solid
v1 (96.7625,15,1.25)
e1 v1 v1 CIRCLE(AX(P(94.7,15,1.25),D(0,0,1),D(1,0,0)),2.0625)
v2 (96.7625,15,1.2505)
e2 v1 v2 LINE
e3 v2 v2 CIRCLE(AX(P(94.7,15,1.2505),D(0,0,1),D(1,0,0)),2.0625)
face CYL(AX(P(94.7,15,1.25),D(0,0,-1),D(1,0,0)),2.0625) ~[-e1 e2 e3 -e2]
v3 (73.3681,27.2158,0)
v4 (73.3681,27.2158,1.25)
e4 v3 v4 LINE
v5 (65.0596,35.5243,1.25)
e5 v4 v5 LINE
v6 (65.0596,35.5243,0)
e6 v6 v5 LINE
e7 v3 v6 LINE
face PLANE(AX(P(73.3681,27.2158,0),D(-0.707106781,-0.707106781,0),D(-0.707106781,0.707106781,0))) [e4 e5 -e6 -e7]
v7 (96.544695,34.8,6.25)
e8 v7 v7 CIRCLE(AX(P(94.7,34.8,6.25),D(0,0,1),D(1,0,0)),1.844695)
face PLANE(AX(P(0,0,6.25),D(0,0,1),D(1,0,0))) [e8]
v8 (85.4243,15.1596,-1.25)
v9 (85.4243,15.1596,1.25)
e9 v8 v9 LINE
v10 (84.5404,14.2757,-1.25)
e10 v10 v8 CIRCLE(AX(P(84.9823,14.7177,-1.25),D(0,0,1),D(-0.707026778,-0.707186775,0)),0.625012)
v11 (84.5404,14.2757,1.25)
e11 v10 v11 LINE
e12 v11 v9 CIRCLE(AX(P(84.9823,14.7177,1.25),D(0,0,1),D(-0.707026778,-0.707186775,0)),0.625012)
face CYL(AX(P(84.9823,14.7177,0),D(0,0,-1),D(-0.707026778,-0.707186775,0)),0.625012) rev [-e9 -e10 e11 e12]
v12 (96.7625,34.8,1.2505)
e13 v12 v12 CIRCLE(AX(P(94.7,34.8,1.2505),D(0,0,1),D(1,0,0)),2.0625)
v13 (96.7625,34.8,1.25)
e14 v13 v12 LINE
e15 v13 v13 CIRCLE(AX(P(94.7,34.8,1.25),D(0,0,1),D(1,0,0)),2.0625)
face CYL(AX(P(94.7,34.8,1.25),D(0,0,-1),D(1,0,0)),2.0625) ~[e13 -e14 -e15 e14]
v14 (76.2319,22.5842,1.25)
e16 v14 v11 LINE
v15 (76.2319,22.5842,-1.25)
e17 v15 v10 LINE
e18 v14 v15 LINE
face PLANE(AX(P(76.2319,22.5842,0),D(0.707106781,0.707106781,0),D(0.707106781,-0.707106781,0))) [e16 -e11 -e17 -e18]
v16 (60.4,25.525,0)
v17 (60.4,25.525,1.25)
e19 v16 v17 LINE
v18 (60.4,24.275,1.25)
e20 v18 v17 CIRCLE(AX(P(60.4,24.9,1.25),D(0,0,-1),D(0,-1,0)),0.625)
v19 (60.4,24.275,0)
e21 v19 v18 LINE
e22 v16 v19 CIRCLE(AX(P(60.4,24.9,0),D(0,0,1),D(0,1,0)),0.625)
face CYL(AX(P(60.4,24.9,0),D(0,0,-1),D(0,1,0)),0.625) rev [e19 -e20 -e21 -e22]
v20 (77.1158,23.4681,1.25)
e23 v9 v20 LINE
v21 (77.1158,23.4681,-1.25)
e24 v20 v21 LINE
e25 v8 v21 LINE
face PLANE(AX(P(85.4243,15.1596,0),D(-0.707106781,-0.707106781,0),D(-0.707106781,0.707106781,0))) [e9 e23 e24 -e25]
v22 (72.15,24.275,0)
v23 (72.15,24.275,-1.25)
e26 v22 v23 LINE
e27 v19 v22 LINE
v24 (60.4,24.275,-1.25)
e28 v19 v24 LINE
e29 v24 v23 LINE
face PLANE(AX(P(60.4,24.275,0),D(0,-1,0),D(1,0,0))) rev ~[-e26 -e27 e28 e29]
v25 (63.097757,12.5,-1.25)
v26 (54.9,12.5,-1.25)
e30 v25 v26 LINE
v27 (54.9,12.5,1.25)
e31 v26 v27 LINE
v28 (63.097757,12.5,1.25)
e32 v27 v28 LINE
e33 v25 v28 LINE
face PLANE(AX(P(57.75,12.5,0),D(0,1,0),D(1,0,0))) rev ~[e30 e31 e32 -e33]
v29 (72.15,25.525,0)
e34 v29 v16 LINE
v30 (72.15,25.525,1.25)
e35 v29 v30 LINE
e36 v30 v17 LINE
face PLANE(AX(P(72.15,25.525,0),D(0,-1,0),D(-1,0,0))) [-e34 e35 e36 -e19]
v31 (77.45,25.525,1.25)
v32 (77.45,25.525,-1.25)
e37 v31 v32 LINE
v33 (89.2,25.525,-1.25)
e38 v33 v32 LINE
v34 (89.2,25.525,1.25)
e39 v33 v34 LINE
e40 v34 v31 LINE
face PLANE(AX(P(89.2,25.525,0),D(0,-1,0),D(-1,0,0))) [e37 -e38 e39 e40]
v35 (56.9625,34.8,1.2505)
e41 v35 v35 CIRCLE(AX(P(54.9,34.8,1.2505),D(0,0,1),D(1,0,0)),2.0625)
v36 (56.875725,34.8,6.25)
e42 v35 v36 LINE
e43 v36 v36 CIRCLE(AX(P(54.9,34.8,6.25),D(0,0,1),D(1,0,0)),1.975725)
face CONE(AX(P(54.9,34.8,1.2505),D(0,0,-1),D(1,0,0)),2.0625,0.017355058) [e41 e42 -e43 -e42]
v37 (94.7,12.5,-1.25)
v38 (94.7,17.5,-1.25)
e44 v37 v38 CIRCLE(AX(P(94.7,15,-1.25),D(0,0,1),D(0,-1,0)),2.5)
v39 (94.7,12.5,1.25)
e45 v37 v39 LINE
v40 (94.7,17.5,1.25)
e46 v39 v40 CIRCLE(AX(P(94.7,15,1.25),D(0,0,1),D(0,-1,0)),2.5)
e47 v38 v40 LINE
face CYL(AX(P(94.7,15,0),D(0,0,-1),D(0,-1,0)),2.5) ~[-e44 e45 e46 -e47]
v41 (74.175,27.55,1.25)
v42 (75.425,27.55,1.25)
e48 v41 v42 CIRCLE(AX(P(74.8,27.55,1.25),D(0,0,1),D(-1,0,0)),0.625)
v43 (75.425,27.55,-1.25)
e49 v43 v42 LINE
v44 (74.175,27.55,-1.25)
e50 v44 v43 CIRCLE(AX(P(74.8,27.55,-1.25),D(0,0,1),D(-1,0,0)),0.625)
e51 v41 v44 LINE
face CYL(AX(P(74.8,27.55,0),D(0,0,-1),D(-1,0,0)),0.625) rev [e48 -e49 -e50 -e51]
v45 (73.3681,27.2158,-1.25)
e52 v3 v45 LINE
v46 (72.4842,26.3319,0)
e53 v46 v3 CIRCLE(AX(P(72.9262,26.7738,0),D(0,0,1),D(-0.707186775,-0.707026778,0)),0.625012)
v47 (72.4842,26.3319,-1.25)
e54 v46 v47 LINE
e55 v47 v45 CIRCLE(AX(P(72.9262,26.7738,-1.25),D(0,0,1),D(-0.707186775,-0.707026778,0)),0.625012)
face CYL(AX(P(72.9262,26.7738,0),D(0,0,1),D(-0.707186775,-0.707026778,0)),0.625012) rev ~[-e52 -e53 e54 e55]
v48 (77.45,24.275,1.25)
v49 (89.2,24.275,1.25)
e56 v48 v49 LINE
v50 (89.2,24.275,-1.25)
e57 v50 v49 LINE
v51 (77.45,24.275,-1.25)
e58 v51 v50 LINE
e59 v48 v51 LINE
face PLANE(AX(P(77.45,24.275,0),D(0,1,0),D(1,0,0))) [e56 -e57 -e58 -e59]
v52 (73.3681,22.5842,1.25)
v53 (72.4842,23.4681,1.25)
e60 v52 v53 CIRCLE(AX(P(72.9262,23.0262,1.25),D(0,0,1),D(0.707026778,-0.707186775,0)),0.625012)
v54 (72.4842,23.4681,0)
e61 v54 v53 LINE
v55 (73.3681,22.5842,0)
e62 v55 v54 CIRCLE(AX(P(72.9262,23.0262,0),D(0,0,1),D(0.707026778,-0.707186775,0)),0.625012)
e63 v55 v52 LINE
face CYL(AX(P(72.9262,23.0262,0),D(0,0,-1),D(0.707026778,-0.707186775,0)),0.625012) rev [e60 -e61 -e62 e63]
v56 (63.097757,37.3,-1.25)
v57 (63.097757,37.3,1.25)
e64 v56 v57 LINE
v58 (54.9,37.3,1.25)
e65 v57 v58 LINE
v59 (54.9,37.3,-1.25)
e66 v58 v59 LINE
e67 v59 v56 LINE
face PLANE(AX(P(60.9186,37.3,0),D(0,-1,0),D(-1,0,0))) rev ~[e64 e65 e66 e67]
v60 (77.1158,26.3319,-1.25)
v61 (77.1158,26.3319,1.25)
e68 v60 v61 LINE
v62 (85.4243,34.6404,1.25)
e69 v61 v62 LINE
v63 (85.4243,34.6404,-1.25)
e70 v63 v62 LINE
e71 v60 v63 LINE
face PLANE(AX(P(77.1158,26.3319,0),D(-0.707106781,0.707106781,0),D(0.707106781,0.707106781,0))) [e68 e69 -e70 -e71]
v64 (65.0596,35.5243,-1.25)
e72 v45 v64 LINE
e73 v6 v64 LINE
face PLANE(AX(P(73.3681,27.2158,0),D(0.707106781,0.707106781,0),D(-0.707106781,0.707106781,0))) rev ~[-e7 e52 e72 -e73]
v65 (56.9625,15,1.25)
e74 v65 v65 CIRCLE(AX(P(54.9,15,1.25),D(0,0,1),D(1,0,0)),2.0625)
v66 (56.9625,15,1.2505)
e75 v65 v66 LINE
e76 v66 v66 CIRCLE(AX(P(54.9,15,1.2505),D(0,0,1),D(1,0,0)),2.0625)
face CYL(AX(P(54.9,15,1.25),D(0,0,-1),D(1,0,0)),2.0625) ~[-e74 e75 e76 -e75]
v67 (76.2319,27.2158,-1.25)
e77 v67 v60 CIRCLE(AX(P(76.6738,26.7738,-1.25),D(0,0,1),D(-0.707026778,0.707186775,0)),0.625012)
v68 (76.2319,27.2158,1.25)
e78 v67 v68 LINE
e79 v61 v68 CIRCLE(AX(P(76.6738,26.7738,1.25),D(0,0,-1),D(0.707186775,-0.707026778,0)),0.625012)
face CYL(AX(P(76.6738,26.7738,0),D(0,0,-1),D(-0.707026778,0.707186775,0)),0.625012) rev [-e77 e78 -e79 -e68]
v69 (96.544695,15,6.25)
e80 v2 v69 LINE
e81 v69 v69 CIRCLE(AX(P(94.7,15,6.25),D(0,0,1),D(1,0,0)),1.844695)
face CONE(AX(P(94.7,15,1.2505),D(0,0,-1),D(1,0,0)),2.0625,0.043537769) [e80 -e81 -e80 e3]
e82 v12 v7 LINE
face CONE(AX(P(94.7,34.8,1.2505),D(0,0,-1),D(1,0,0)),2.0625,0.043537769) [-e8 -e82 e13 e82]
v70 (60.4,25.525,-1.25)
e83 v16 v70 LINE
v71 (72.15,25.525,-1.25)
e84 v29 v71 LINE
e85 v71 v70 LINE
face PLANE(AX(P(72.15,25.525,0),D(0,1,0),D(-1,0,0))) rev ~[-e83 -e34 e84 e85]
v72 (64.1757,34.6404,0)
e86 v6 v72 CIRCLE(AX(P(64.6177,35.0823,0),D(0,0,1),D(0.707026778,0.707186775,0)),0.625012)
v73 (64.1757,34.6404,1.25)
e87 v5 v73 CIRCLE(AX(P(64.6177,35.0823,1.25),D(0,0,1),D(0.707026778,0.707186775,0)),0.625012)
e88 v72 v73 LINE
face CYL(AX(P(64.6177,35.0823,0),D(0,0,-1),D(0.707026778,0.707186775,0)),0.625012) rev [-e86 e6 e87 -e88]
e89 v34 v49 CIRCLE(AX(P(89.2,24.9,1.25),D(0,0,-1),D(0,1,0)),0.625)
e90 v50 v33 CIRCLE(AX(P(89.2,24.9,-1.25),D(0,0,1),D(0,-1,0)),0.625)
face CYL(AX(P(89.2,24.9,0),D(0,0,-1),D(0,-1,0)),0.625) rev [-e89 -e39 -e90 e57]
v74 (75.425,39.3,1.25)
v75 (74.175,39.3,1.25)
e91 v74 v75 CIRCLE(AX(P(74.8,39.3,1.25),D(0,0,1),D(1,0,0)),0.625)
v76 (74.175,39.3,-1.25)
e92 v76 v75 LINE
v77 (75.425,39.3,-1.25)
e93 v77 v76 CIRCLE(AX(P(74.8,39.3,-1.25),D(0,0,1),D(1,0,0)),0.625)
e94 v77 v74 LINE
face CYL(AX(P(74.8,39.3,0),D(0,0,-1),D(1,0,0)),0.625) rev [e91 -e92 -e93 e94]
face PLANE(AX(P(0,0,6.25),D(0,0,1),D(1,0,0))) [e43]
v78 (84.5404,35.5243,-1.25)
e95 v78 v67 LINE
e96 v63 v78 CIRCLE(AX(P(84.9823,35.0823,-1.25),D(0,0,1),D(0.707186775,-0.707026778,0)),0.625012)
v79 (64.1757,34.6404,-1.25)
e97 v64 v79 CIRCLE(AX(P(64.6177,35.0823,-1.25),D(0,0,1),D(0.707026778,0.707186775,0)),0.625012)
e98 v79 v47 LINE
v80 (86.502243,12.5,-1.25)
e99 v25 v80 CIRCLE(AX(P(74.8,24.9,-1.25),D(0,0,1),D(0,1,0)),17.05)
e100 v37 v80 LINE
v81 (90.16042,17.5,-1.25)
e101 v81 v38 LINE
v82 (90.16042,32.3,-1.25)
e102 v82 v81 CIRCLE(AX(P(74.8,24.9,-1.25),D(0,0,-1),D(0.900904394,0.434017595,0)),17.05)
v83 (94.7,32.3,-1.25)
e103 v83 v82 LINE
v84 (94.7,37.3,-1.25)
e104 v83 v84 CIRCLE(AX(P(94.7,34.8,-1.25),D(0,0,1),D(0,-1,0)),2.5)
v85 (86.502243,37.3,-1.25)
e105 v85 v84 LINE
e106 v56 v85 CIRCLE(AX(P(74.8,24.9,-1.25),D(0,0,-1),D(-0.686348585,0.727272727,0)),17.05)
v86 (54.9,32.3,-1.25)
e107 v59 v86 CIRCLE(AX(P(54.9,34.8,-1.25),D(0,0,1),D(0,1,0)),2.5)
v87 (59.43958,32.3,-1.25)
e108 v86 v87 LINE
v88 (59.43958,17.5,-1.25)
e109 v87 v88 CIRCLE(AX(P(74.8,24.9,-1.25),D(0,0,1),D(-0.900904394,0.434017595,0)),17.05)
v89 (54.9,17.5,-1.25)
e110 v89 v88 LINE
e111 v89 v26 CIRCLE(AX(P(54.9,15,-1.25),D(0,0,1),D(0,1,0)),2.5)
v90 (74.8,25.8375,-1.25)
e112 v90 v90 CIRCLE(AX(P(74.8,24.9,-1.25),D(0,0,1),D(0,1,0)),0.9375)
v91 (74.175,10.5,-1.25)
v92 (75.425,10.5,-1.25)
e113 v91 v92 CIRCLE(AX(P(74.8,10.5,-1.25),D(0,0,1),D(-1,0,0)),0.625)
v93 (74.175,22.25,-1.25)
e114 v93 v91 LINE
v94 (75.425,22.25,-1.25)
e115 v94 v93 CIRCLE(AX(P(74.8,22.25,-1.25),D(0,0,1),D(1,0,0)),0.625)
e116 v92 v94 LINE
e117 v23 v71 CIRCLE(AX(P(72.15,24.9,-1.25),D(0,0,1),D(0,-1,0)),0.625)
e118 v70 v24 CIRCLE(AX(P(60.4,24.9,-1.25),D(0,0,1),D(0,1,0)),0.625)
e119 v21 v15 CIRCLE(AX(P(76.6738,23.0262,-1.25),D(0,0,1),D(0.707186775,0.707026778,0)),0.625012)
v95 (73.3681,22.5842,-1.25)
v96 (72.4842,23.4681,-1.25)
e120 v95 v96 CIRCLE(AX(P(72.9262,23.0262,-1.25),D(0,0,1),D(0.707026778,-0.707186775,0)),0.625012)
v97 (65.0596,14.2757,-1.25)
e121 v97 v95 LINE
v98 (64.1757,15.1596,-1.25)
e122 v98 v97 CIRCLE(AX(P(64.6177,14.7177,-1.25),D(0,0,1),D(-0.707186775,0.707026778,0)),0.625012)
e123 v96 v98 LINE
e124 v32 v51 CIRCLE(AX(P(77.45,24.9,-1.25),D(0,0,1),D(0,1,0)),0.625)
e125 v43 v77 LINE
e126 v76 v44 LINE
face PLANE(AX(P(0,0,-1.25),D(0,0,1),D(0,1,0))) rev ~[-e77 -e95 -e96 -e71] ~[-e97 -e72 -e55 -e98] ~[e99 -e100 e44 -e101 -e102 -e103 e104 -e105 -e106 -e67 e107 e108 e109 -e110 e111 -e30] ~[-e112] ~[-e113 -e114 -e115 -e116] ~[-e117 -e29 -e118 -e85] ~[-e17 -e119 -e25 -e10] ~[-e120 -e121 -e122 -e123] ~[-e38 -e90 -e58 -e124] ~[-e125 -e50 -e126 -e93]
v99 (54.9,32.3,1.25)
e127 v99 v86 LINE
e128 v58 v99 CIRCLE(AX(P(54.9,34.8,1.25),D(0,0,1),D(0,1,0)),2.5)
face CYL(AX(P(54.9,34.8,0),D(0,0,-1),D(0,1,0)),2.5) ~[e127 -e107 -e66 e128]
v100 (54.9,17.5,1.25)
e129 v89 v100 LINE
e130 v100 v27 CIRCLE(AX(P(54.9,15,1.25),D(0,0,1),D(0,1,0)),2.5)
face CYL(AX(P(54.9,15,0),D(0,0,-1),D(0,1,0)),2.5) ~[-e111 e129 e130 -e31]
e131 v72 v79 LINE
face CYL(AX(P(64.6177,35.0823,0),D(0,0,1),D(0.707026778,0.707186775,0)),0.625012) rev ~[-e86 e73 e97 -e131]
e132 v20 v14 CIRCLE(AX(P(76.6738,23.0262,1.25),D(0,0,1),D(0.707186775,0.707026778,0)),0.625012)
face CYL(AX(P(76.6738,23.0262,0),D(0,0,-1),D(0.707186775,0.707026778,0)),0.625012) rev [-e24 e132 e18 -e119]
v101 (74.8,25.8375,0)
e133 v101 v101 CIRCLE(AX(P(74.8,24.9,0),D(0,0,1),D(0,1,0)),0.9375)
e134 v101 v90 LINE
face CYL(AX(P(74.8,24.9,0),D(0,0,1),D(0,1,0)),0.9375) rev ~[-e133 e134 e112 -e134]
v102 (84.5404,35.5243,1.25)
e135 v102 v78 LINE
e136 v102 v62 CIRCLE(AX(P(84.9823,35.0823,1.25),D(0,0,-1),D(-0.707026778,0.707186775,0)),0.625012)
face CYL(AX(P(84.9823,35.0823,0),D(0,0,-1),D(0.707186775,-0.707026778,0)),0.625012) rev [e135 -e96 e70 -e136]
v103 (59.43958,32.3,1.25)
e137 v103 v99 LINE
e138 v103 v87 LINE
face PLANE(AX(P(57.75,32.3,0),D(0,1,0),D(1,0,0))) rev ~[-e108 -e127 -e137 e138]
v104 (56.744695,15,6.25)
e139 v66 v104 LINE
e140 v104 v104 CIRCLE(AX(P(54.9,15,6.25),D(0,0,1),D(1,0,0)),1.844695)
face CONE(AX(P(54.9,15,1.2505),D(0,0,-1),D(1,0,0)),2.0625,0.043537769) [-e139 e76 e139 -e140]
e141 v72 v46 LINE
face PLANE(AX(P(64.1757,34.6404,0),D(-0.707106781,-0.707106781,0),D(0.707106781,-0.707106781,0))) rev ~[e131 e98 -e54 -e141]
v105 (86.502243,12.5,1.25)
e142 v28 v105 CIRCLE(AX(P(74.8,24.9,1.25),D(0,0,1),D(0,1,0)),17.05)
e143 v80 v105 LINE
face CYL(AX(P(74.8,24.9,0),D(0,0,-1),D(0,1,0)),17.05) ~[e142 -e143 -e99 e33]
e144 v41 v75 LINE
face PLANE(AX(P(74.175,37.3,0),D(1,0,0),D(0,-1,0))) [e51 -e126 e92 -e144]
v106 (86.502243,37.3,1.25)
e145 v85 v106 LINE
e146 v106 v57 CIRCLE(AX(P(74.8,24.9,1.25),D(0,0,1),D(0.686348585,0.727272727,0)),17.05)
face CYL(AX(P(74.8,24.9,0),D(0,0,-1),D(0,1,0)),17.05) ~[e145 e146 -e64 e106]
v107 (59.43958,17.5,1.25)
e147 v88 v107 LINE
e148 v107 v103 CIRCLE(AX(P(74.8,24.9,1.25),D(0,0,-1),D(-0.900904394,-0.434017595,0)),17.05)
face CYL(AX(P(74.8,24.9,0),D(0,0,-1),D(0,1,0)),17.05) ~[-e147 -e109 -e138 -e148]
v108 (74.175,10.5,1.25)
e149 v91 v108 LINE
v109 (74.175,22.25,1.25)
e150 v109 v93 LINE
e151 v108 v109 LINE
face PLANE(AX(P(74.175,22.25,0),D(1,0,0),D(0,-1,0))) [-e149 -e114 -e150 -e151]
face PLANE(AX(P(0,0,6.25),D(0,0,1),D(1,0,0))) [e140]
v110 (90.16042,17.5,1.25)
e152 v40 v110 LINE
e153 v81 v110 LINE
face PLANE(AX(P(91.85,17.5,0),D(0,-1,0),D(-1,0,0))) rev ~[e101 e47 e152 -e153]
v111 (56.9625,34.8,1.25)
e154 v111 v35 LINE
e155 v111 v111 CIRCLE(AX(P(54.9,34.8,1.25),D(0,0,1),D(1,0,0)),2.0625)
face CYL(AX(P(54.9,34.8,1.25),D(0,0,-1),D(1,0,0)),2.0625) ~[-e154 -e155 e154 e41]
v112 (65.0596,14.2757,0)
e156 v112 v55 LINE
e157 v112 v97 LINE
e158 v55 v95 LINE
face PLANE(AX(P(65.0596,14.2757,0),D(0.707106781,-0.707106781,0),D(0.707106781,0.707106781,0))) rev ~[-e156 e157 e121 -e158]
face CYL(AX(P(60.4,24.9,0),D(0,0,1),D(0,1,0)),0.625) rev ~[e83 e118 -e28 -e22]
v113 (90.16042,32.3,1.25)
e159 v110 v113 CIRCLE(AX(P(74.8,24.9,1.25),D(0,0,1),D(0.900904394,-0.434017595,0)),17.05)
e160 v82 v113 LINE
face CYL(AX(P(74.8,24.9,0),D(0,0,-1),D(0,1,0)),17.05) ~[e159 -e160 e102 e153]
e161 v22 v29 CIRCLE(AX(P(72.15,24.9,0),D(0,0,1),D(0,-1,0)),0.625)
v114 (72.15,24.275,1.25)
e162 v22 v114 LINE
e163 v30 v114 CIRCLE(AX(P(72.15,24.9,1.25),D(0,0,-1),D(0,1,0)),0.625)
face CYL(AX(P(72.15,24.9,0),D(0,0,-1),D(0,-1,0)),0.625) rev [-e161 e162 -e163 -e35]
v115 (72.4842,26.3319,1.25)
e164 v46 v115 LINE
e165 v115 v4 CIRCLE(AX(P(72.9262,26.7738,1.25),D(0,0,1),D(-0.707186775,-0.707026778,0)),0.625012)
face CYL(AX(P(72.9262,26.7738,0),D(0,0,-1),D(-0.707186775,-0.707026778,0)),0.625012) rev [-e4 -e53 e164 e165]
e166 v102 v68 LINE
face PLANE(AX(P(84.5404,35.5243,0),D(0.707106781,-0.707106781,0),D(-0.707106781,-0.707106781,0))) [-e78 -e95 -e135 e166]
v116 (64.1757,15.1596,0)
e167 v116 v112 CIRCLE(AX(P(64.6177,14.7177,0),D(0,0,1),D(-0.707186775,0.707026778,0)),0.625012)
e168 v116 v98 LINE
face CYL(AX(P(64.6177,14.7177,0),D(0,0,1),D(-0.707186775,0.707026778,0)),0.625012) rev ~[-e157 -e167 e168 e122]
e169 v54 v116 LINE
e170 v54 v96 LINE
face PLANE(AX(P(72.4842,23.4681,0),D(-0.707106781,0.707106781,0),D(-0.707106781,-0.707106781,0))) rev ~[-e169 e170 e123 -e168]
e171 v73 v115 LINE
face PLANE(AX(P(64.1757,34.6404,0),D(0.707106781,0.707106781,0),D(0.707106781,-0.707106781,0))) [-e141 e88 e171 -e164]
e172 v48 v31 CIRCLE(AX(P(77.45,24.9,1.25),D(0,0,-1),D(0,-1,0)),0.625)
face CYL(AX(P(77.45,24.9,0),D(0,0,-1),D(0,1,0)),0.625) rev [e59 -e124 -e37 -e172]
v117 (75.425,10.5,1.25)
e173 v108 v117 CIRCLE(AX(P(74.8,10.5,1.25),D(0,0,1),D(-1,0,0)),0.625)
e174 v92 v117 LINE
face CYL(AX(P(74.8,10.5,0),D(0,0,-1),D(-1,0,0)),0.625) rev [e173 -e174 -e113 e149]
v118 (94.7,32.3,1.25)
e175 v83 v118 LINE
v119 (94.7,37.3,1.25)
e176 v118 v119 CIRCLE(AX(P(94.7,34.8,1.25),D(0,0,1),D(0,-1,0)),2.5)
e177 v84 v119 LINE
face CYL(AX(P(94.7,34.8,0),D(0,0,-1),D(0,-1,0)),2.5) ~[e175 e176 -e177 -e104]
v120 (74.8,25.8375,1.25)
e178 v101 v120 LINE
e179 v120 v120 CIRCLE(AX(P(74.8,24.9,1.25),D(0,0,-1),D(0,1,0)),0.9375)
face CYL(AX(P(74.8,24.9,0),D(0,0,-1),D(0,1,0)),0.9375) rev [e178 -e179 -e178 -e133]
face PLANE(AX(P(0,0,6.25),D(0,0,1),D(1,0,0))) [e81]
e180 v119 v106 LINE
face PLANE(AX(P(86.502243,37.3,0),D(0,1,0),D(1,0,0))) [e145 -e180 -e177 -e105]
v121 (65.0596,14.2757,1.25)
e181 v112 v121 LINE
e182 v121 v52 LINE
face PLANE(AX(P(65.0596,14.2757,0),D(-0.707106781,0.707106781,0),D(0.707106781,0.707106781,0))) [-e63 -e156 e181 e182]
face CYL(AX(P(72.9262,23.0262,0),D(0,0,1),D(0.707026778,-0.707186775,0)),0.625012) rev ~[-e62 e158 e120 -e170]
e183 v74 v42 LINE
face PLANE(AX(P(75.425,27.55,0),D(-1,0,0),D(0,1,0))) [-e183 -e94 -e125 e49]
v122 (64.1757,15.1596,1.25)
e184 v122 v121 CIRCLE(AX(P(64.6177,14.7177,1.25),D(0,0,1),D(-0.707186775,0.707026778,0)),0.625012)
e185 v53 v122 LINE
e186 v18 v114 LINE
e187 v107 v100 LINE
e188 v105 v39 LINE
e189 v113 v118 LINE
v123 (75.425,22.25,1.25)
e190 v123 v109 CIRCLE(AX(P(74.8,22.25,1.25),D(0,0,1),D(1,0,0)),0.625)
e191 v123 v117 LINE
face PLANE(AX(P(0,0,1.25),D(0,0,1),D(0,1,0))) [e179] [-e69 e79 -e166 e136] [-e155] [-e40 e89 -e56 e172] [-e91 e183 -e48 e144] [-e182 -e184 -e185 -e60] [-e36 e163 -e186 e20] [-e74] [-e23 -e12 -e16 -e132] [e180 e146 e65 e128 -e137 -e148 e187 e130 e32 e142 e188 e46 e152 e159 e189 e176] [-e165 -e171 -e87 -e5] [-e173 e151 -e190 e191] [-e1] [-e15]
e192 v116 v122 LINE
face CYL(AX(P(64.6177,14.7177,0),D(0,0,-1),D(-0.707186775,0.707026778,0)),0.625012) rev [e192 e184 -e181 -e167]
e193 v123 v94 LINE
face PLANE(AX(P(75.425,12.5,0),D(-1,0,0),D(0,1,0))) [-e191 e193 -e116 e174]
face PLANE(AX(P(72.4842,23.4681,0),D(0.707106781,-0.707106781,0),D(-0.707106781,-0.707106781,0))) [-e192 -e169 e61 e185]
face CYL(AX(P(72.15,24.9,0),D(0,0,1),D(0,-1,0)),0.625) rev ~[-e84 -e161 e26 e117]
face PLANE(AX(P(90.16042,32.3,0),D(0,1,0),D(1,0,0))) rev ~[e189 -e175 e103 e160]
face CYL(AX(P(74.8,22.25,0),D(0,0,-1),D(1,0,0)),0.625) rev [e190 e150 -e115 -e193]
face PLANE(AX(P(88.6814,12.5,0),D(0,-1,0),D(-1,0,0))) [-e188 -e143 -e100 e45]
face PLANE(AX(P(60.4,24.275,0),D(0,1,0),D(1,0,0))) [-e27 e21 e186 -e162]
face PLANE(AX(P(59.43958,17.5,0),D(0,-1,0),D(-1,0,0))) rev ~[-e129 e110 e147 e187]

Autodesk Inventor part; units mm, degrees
ref_plane "YZ Plane" through (0, 0, 0) normal (1, 0, 0) x (0, 1, 0)
ref_plane "XZ Plane" through (0, 0, 0) normal (0, 1, 0) x (-1, 0, 0)
ref_plane "XY Plane" through (0, 0, 0) normal (0, 0, 1) x (1, 0, 0)
sketch "Sketch2" plane through (0, 0, 0) normal (0, 0, 1) x (0, 1, 0)
  line L0 (24.9, -57.75) -> (24.9, -91.85)
  circle A0 centre (24.9, -74.8) radius 17.05
  circle A1 centre (24.9, -74.8) radius 0.9375
  line L1 (24.9, -74.8) -> (36.9562, -86.8562)
  line L2 (24.9, -74.8) -> (41.95, -74.8) construction
  line L3 (26.7738, -76.6738) -> (35.0823, -84.9823) construction
  line L4 (26.3319, -77.1158) -> (34.6404, -85.4243)
  line L5 (35.5243, -84.5404) -> (27.2158, -76.2319)
  arc A2 (27.2158, -76.2319) -> (26.3319, -77.1158) centre (26.7738, -76.6738) ccw
  arc A3 (34.6404, -85.4243) -> (35.5243, -84.5404) centre (35.0823, -84.9823) ccw
  line L6 (30.9281, -80.8281) -> (42.6781, -80.8281) construction
  line L7 (34.8, -54.9) -> (34.8, -60.9186) construction
  line L8 (32.3, -54.9) -> (32.3, -60.9186)
  line L9 (37.3, -60.9186) -> (37.3, -54.9)
  arc A4 (37.3, -54.9) -> (32.3, -54.9) centre (34.8, -54.9) ccw
  arc A5 (32.3, -60.9186) -> (37.3, -60.9186) centre (34.8, -60.9186) ccw
  line L10 (15, -54.9) -> (15, -60.9186) construction
  line L11 (12.5, -54.9) -> (12.5, -60.9186)
  line L12 (17.5, -60.9186) -> (17.5, -54.9)
  arc A6 (17.5, -54.9) -> (12.5, -54.9) centre (15, -54.9) ccw
  arc A7 (12.5, -60.9186) -> (17.5, -60.9186) centre (15, -60.9186) ccw
  line L13 (15, -94.7) -> (15, -88.6814) construction
  line L14 (17.5, -94.7) -> (17.5, -88.6814)
  line L15 (12.5, -88.6814) -> (12.5, -94.7)
  arc A8 (12.5, -94.7) -> (17.5, -94.7) centre (15, -94.7) ccw
  arc A9 (17.5, -88.6814) -> (12.5, -88.6814) centre (15, -88.6814) ccw
  line L16 (34.8, -94.7) -> (34.8, -88.6814) construction
  line L17 (37.3, -94.7) -> (37.3, -88.6814)
  line L18 (32.3, -88.6814) -> (32.3, -94.7)
  arc A10 (32.3, -94.7) -> (37.3, -94.7) centre (34.8, -94.7) ccw
  arc A11 (37.3, -88.6814) -> (32.3, -88.6814) centre (34.8, -88.6814) ccw
  line L19 (39.3, -74.175) -> (27.55, -74.175)
  arc A12 (39.3, -75.425) -> (39.3, -74.175) centre (39.3, -74.8) ccw
  line L20 (27.55, -75.425) -> (39.3, -75.425)
  arc A13 (27.55, -74.175) -> (27.55, -75.425) centre (27.55, -74.8) ccw
  line L21 (34.6404, -64.1757) -> (26.3319, -72.4842)
  arc A14 (35.5243, -65.0596) -> (34.6404, -64.1757) centre (35.0823, -64.6177) ccw
  line L22 (27.2158, -73.3681) -> (35.5243, -65.0596)
  arc A15 (26.3319, -72.4842) -> (27.2158, -73.3681) centre (26.7738, -72.9262) ccw
  line L23 (24.275, -60.4) -> (24.275, -72.15)
  arc A16 (25.525, -60.4) -> (24.275, -60.4) centre (24.9, -60.4) ccw
  line L24 (25.525, -72.15) -> (25.525, -60.4)
  arc A17 (24.275, -72.15) -> (25.525, -72.15) centre (24.9, -72.15) ccw
  line L25 (14.2757, -65.0596) -> (22.5842, -73.3681)
  arc A18 (15.1596, -64.1757) -> (14.2757, -65.0596) centre (14.7177, -64.6177) ccw
  line L26 (23.4681, -72.4842) -> (15.1596, -64.1757)
  arc A19 (22.5842, -73.3681) -> (23.4681, -72.4842) centre (23.0262, -72.9262) ccw
  line L27 (10.5, -75.425) -> (22.25, -75.425)
  arc A20 (10.5, -74.175) -> (10.5, -75.425) centre (10.5, -74.8) ccw
  line L28 (22.25, -74.175) -> (10.5, -74.175)
  arc A21 (22.25, -75.425) -> (22.25, -74.175) centre (22.25, -74.8) ccw
  line L29 (15.1596, -85.4243) -> (23.4681, -77.1158)
  arc A22 (14.2757, -84.5404) -> (15.1596, -85.4243) centre (14.7177, -84.9823) ccw
  line L30 (22.5842, -76.2319) -> (14.2757, -84.5404)
  arc A23 (23.4681, -77.1158) -> (22.5842, -76.2319) centre (23.0262, -76.6738) ccw
  line L31 (25.525, -89.2) -> (25.525, -77.45)
  arc A24 (24.275, -89.2) -> (25.525, -89.2) centre (24.9, -89.2) ccw
  line L32 (24.275, -77.45) -> (24.275, -89.2)
  arc A25 (25.525, -77.45) -> (24.275, -77.45) centre (24.9, -77.45) ccw
  line L33 (37.3, -60.9186) -> (37.3, -88.6814)
  line L34 (12.5, -88.6814) -> (12.5, -60.9186)
  line L35 (0.025, -97.7) -> (0.025, -51.9) projected
  line L36 (42.1, -97.7) -> (0.025, -97.7) projected
  line L37 (42.1, -97.7) -> (42.1, -91.85) projected
  line L38 (7.7, -91.85) -> (42.1, -91.85) projected
  line L39 (7.7, -57.75) -> (7.7, -91.85) projected
  line L40 (7.7, -57.75) -> (42.1, -57.75) projected
  line L41 (42.1, -57.75) -> (42.1, -51.9) projected
  line L42 (0.025, -51.9) -> (42.1, -51.9) projected
  circle A26 centre (34.8, -94.7) radius 2.0625 projected
  circle A27 centre (34.8, -54.9) radius 2.0625 projected
  circle A28 centre (15, -94.7) radius 2.0625 projected
  circle A29 centre (15, -54.9) radius 2.0625 projected
  point P0 (0, 0)
  point P1 (34.8, -57.9093)
  point P2 (15, -57.9093)
  point P3 (15, -91.6907)
  point P4 (34.8, -91.6907)
  point P5 (17.5, -59.4396)
  point P6 (13.0765, -62.5156)
  point P7 (13.0765, -87.0844)
  point P8 (17.5, -90.1604)
  point P9 (32.3, -90.1604)
  point P10 (36.7235, -87.0844)
  point P11 (36.7235, -62.5156)
  point P12 (32.3, -59.4396)
  point P13 (12.5, -63.0978)
  point P14 (12.5, -86.5022)
  point P15 (37.3, -86.5022)
  point P16 (37.3, -63.0978)
  dimension "d32" = 1.875
  dimension "d33" = 45
  dimension "d34" = 5.875
  dimension "d35" = 45
  dimension "d36" = 1.25
  dimension "d37" = 5
  dimension "d38" = 5
  dimension "d39" = 5
  dimension "d40" = 5
  dimension "d43" = 360
extrude "Extrusion2" add sketch "Sketch2" along normal mid plane 2.5 contours A0 L8 A5 L33 L19 A13 L20 L1 A3 L5 A2 A1 L0 A17 L24 A16 | L0 A16 L23 A17 A1 A25 L32 A24 A0 L14 A9 L34 L27 A21 L28 A7 L12 | L8 L40 L9 A5 A0 | A0 A5 L8 | L12 A7 A0 | A0 A7 L11 L40 L12 | L40 L11 A6 L12 | L8 A4 L9 L40 | A5 L33 A0 | A0 L34 A7 | A0 L33 L20 A12 L19 | L34 L28 A20 L27 A0 | A1 L1 A2 L4 A3 A0 A11 L18 L0 A24 L31 A25 | A0 A9 L34 | L33 A11 A0 | A9 L14 A0 | A0 L14 L38 L15 A9 | L38 L14 A8 L15 | L17 L38 L18 A0 A11 | A0 L18 A11 | L17 A10 L18 L38 | A26 | A27 | A28 | A29
sketch "Sketch3" plane through (0, 0, 1.25) normal (0, 0, 1) x (1, 0, 0)
  line L0 (97.7, 0.025) -> (51.9, 0.025) projected
  line L1 (97.7, 42.1) -> (97.7, 0.025) projected
  line L2 (97.7, 42.1) -> (91.85, 42.1) projected
  line L3 (91.85, 7.7) -> (91.85, 42.1) projected
  line L4 (57.75, 7.7) -> (91.85, 7.7) projected
  line L5 (57.75, 7.7) -> (57.75, 42.1) projected
  line L6 (57.75, 42.1) -> (51.9, 42.1) projected
  line L7 (51.9, 0.025) -> (51.9, 42.1) projected
  circle A0 centre (94.7, 34.8) radius 2.0625 projected
  circle A1 centre (54.9, 34.8) radius 2.0625 projected
  circle A2 centre (94.7, 15) radius 2.0625 projected
  circle A3 centre (54.9, 15) radius 2.0625 projected
  point P0 (0, 0)
extrude "Extrusion3" add sketch "Sketch3" along normal blind 5 contours A0 | A1 | A2 | A3
chamfer "Chamfer1" distance 5 angle 1 1 edges at (52.8375, 34.8, 6.25) measured on face at (52.8642, 35.1308, 2.9167)
chamfer "Chamfer2" distance 5 angle 2.5 1 edges at (92.6375, 34.8, 6.25) measured on face at (95.5842, 36.6634, 4.5833)
chamfer "Chamfer3" distance 5 angle 2.5 1 edges at (52.8375, 15, 6.25) measured on face at (56.9358, 14.6692, 4.5833)
chamfer "Chamfer4" distance 5 angle 2.5 1 edges at (92.6375, 15, 6.25) measured on face at (93.8158, 13.1366, 4.5833)
properties part number "Laser Alignment Tool V2"
